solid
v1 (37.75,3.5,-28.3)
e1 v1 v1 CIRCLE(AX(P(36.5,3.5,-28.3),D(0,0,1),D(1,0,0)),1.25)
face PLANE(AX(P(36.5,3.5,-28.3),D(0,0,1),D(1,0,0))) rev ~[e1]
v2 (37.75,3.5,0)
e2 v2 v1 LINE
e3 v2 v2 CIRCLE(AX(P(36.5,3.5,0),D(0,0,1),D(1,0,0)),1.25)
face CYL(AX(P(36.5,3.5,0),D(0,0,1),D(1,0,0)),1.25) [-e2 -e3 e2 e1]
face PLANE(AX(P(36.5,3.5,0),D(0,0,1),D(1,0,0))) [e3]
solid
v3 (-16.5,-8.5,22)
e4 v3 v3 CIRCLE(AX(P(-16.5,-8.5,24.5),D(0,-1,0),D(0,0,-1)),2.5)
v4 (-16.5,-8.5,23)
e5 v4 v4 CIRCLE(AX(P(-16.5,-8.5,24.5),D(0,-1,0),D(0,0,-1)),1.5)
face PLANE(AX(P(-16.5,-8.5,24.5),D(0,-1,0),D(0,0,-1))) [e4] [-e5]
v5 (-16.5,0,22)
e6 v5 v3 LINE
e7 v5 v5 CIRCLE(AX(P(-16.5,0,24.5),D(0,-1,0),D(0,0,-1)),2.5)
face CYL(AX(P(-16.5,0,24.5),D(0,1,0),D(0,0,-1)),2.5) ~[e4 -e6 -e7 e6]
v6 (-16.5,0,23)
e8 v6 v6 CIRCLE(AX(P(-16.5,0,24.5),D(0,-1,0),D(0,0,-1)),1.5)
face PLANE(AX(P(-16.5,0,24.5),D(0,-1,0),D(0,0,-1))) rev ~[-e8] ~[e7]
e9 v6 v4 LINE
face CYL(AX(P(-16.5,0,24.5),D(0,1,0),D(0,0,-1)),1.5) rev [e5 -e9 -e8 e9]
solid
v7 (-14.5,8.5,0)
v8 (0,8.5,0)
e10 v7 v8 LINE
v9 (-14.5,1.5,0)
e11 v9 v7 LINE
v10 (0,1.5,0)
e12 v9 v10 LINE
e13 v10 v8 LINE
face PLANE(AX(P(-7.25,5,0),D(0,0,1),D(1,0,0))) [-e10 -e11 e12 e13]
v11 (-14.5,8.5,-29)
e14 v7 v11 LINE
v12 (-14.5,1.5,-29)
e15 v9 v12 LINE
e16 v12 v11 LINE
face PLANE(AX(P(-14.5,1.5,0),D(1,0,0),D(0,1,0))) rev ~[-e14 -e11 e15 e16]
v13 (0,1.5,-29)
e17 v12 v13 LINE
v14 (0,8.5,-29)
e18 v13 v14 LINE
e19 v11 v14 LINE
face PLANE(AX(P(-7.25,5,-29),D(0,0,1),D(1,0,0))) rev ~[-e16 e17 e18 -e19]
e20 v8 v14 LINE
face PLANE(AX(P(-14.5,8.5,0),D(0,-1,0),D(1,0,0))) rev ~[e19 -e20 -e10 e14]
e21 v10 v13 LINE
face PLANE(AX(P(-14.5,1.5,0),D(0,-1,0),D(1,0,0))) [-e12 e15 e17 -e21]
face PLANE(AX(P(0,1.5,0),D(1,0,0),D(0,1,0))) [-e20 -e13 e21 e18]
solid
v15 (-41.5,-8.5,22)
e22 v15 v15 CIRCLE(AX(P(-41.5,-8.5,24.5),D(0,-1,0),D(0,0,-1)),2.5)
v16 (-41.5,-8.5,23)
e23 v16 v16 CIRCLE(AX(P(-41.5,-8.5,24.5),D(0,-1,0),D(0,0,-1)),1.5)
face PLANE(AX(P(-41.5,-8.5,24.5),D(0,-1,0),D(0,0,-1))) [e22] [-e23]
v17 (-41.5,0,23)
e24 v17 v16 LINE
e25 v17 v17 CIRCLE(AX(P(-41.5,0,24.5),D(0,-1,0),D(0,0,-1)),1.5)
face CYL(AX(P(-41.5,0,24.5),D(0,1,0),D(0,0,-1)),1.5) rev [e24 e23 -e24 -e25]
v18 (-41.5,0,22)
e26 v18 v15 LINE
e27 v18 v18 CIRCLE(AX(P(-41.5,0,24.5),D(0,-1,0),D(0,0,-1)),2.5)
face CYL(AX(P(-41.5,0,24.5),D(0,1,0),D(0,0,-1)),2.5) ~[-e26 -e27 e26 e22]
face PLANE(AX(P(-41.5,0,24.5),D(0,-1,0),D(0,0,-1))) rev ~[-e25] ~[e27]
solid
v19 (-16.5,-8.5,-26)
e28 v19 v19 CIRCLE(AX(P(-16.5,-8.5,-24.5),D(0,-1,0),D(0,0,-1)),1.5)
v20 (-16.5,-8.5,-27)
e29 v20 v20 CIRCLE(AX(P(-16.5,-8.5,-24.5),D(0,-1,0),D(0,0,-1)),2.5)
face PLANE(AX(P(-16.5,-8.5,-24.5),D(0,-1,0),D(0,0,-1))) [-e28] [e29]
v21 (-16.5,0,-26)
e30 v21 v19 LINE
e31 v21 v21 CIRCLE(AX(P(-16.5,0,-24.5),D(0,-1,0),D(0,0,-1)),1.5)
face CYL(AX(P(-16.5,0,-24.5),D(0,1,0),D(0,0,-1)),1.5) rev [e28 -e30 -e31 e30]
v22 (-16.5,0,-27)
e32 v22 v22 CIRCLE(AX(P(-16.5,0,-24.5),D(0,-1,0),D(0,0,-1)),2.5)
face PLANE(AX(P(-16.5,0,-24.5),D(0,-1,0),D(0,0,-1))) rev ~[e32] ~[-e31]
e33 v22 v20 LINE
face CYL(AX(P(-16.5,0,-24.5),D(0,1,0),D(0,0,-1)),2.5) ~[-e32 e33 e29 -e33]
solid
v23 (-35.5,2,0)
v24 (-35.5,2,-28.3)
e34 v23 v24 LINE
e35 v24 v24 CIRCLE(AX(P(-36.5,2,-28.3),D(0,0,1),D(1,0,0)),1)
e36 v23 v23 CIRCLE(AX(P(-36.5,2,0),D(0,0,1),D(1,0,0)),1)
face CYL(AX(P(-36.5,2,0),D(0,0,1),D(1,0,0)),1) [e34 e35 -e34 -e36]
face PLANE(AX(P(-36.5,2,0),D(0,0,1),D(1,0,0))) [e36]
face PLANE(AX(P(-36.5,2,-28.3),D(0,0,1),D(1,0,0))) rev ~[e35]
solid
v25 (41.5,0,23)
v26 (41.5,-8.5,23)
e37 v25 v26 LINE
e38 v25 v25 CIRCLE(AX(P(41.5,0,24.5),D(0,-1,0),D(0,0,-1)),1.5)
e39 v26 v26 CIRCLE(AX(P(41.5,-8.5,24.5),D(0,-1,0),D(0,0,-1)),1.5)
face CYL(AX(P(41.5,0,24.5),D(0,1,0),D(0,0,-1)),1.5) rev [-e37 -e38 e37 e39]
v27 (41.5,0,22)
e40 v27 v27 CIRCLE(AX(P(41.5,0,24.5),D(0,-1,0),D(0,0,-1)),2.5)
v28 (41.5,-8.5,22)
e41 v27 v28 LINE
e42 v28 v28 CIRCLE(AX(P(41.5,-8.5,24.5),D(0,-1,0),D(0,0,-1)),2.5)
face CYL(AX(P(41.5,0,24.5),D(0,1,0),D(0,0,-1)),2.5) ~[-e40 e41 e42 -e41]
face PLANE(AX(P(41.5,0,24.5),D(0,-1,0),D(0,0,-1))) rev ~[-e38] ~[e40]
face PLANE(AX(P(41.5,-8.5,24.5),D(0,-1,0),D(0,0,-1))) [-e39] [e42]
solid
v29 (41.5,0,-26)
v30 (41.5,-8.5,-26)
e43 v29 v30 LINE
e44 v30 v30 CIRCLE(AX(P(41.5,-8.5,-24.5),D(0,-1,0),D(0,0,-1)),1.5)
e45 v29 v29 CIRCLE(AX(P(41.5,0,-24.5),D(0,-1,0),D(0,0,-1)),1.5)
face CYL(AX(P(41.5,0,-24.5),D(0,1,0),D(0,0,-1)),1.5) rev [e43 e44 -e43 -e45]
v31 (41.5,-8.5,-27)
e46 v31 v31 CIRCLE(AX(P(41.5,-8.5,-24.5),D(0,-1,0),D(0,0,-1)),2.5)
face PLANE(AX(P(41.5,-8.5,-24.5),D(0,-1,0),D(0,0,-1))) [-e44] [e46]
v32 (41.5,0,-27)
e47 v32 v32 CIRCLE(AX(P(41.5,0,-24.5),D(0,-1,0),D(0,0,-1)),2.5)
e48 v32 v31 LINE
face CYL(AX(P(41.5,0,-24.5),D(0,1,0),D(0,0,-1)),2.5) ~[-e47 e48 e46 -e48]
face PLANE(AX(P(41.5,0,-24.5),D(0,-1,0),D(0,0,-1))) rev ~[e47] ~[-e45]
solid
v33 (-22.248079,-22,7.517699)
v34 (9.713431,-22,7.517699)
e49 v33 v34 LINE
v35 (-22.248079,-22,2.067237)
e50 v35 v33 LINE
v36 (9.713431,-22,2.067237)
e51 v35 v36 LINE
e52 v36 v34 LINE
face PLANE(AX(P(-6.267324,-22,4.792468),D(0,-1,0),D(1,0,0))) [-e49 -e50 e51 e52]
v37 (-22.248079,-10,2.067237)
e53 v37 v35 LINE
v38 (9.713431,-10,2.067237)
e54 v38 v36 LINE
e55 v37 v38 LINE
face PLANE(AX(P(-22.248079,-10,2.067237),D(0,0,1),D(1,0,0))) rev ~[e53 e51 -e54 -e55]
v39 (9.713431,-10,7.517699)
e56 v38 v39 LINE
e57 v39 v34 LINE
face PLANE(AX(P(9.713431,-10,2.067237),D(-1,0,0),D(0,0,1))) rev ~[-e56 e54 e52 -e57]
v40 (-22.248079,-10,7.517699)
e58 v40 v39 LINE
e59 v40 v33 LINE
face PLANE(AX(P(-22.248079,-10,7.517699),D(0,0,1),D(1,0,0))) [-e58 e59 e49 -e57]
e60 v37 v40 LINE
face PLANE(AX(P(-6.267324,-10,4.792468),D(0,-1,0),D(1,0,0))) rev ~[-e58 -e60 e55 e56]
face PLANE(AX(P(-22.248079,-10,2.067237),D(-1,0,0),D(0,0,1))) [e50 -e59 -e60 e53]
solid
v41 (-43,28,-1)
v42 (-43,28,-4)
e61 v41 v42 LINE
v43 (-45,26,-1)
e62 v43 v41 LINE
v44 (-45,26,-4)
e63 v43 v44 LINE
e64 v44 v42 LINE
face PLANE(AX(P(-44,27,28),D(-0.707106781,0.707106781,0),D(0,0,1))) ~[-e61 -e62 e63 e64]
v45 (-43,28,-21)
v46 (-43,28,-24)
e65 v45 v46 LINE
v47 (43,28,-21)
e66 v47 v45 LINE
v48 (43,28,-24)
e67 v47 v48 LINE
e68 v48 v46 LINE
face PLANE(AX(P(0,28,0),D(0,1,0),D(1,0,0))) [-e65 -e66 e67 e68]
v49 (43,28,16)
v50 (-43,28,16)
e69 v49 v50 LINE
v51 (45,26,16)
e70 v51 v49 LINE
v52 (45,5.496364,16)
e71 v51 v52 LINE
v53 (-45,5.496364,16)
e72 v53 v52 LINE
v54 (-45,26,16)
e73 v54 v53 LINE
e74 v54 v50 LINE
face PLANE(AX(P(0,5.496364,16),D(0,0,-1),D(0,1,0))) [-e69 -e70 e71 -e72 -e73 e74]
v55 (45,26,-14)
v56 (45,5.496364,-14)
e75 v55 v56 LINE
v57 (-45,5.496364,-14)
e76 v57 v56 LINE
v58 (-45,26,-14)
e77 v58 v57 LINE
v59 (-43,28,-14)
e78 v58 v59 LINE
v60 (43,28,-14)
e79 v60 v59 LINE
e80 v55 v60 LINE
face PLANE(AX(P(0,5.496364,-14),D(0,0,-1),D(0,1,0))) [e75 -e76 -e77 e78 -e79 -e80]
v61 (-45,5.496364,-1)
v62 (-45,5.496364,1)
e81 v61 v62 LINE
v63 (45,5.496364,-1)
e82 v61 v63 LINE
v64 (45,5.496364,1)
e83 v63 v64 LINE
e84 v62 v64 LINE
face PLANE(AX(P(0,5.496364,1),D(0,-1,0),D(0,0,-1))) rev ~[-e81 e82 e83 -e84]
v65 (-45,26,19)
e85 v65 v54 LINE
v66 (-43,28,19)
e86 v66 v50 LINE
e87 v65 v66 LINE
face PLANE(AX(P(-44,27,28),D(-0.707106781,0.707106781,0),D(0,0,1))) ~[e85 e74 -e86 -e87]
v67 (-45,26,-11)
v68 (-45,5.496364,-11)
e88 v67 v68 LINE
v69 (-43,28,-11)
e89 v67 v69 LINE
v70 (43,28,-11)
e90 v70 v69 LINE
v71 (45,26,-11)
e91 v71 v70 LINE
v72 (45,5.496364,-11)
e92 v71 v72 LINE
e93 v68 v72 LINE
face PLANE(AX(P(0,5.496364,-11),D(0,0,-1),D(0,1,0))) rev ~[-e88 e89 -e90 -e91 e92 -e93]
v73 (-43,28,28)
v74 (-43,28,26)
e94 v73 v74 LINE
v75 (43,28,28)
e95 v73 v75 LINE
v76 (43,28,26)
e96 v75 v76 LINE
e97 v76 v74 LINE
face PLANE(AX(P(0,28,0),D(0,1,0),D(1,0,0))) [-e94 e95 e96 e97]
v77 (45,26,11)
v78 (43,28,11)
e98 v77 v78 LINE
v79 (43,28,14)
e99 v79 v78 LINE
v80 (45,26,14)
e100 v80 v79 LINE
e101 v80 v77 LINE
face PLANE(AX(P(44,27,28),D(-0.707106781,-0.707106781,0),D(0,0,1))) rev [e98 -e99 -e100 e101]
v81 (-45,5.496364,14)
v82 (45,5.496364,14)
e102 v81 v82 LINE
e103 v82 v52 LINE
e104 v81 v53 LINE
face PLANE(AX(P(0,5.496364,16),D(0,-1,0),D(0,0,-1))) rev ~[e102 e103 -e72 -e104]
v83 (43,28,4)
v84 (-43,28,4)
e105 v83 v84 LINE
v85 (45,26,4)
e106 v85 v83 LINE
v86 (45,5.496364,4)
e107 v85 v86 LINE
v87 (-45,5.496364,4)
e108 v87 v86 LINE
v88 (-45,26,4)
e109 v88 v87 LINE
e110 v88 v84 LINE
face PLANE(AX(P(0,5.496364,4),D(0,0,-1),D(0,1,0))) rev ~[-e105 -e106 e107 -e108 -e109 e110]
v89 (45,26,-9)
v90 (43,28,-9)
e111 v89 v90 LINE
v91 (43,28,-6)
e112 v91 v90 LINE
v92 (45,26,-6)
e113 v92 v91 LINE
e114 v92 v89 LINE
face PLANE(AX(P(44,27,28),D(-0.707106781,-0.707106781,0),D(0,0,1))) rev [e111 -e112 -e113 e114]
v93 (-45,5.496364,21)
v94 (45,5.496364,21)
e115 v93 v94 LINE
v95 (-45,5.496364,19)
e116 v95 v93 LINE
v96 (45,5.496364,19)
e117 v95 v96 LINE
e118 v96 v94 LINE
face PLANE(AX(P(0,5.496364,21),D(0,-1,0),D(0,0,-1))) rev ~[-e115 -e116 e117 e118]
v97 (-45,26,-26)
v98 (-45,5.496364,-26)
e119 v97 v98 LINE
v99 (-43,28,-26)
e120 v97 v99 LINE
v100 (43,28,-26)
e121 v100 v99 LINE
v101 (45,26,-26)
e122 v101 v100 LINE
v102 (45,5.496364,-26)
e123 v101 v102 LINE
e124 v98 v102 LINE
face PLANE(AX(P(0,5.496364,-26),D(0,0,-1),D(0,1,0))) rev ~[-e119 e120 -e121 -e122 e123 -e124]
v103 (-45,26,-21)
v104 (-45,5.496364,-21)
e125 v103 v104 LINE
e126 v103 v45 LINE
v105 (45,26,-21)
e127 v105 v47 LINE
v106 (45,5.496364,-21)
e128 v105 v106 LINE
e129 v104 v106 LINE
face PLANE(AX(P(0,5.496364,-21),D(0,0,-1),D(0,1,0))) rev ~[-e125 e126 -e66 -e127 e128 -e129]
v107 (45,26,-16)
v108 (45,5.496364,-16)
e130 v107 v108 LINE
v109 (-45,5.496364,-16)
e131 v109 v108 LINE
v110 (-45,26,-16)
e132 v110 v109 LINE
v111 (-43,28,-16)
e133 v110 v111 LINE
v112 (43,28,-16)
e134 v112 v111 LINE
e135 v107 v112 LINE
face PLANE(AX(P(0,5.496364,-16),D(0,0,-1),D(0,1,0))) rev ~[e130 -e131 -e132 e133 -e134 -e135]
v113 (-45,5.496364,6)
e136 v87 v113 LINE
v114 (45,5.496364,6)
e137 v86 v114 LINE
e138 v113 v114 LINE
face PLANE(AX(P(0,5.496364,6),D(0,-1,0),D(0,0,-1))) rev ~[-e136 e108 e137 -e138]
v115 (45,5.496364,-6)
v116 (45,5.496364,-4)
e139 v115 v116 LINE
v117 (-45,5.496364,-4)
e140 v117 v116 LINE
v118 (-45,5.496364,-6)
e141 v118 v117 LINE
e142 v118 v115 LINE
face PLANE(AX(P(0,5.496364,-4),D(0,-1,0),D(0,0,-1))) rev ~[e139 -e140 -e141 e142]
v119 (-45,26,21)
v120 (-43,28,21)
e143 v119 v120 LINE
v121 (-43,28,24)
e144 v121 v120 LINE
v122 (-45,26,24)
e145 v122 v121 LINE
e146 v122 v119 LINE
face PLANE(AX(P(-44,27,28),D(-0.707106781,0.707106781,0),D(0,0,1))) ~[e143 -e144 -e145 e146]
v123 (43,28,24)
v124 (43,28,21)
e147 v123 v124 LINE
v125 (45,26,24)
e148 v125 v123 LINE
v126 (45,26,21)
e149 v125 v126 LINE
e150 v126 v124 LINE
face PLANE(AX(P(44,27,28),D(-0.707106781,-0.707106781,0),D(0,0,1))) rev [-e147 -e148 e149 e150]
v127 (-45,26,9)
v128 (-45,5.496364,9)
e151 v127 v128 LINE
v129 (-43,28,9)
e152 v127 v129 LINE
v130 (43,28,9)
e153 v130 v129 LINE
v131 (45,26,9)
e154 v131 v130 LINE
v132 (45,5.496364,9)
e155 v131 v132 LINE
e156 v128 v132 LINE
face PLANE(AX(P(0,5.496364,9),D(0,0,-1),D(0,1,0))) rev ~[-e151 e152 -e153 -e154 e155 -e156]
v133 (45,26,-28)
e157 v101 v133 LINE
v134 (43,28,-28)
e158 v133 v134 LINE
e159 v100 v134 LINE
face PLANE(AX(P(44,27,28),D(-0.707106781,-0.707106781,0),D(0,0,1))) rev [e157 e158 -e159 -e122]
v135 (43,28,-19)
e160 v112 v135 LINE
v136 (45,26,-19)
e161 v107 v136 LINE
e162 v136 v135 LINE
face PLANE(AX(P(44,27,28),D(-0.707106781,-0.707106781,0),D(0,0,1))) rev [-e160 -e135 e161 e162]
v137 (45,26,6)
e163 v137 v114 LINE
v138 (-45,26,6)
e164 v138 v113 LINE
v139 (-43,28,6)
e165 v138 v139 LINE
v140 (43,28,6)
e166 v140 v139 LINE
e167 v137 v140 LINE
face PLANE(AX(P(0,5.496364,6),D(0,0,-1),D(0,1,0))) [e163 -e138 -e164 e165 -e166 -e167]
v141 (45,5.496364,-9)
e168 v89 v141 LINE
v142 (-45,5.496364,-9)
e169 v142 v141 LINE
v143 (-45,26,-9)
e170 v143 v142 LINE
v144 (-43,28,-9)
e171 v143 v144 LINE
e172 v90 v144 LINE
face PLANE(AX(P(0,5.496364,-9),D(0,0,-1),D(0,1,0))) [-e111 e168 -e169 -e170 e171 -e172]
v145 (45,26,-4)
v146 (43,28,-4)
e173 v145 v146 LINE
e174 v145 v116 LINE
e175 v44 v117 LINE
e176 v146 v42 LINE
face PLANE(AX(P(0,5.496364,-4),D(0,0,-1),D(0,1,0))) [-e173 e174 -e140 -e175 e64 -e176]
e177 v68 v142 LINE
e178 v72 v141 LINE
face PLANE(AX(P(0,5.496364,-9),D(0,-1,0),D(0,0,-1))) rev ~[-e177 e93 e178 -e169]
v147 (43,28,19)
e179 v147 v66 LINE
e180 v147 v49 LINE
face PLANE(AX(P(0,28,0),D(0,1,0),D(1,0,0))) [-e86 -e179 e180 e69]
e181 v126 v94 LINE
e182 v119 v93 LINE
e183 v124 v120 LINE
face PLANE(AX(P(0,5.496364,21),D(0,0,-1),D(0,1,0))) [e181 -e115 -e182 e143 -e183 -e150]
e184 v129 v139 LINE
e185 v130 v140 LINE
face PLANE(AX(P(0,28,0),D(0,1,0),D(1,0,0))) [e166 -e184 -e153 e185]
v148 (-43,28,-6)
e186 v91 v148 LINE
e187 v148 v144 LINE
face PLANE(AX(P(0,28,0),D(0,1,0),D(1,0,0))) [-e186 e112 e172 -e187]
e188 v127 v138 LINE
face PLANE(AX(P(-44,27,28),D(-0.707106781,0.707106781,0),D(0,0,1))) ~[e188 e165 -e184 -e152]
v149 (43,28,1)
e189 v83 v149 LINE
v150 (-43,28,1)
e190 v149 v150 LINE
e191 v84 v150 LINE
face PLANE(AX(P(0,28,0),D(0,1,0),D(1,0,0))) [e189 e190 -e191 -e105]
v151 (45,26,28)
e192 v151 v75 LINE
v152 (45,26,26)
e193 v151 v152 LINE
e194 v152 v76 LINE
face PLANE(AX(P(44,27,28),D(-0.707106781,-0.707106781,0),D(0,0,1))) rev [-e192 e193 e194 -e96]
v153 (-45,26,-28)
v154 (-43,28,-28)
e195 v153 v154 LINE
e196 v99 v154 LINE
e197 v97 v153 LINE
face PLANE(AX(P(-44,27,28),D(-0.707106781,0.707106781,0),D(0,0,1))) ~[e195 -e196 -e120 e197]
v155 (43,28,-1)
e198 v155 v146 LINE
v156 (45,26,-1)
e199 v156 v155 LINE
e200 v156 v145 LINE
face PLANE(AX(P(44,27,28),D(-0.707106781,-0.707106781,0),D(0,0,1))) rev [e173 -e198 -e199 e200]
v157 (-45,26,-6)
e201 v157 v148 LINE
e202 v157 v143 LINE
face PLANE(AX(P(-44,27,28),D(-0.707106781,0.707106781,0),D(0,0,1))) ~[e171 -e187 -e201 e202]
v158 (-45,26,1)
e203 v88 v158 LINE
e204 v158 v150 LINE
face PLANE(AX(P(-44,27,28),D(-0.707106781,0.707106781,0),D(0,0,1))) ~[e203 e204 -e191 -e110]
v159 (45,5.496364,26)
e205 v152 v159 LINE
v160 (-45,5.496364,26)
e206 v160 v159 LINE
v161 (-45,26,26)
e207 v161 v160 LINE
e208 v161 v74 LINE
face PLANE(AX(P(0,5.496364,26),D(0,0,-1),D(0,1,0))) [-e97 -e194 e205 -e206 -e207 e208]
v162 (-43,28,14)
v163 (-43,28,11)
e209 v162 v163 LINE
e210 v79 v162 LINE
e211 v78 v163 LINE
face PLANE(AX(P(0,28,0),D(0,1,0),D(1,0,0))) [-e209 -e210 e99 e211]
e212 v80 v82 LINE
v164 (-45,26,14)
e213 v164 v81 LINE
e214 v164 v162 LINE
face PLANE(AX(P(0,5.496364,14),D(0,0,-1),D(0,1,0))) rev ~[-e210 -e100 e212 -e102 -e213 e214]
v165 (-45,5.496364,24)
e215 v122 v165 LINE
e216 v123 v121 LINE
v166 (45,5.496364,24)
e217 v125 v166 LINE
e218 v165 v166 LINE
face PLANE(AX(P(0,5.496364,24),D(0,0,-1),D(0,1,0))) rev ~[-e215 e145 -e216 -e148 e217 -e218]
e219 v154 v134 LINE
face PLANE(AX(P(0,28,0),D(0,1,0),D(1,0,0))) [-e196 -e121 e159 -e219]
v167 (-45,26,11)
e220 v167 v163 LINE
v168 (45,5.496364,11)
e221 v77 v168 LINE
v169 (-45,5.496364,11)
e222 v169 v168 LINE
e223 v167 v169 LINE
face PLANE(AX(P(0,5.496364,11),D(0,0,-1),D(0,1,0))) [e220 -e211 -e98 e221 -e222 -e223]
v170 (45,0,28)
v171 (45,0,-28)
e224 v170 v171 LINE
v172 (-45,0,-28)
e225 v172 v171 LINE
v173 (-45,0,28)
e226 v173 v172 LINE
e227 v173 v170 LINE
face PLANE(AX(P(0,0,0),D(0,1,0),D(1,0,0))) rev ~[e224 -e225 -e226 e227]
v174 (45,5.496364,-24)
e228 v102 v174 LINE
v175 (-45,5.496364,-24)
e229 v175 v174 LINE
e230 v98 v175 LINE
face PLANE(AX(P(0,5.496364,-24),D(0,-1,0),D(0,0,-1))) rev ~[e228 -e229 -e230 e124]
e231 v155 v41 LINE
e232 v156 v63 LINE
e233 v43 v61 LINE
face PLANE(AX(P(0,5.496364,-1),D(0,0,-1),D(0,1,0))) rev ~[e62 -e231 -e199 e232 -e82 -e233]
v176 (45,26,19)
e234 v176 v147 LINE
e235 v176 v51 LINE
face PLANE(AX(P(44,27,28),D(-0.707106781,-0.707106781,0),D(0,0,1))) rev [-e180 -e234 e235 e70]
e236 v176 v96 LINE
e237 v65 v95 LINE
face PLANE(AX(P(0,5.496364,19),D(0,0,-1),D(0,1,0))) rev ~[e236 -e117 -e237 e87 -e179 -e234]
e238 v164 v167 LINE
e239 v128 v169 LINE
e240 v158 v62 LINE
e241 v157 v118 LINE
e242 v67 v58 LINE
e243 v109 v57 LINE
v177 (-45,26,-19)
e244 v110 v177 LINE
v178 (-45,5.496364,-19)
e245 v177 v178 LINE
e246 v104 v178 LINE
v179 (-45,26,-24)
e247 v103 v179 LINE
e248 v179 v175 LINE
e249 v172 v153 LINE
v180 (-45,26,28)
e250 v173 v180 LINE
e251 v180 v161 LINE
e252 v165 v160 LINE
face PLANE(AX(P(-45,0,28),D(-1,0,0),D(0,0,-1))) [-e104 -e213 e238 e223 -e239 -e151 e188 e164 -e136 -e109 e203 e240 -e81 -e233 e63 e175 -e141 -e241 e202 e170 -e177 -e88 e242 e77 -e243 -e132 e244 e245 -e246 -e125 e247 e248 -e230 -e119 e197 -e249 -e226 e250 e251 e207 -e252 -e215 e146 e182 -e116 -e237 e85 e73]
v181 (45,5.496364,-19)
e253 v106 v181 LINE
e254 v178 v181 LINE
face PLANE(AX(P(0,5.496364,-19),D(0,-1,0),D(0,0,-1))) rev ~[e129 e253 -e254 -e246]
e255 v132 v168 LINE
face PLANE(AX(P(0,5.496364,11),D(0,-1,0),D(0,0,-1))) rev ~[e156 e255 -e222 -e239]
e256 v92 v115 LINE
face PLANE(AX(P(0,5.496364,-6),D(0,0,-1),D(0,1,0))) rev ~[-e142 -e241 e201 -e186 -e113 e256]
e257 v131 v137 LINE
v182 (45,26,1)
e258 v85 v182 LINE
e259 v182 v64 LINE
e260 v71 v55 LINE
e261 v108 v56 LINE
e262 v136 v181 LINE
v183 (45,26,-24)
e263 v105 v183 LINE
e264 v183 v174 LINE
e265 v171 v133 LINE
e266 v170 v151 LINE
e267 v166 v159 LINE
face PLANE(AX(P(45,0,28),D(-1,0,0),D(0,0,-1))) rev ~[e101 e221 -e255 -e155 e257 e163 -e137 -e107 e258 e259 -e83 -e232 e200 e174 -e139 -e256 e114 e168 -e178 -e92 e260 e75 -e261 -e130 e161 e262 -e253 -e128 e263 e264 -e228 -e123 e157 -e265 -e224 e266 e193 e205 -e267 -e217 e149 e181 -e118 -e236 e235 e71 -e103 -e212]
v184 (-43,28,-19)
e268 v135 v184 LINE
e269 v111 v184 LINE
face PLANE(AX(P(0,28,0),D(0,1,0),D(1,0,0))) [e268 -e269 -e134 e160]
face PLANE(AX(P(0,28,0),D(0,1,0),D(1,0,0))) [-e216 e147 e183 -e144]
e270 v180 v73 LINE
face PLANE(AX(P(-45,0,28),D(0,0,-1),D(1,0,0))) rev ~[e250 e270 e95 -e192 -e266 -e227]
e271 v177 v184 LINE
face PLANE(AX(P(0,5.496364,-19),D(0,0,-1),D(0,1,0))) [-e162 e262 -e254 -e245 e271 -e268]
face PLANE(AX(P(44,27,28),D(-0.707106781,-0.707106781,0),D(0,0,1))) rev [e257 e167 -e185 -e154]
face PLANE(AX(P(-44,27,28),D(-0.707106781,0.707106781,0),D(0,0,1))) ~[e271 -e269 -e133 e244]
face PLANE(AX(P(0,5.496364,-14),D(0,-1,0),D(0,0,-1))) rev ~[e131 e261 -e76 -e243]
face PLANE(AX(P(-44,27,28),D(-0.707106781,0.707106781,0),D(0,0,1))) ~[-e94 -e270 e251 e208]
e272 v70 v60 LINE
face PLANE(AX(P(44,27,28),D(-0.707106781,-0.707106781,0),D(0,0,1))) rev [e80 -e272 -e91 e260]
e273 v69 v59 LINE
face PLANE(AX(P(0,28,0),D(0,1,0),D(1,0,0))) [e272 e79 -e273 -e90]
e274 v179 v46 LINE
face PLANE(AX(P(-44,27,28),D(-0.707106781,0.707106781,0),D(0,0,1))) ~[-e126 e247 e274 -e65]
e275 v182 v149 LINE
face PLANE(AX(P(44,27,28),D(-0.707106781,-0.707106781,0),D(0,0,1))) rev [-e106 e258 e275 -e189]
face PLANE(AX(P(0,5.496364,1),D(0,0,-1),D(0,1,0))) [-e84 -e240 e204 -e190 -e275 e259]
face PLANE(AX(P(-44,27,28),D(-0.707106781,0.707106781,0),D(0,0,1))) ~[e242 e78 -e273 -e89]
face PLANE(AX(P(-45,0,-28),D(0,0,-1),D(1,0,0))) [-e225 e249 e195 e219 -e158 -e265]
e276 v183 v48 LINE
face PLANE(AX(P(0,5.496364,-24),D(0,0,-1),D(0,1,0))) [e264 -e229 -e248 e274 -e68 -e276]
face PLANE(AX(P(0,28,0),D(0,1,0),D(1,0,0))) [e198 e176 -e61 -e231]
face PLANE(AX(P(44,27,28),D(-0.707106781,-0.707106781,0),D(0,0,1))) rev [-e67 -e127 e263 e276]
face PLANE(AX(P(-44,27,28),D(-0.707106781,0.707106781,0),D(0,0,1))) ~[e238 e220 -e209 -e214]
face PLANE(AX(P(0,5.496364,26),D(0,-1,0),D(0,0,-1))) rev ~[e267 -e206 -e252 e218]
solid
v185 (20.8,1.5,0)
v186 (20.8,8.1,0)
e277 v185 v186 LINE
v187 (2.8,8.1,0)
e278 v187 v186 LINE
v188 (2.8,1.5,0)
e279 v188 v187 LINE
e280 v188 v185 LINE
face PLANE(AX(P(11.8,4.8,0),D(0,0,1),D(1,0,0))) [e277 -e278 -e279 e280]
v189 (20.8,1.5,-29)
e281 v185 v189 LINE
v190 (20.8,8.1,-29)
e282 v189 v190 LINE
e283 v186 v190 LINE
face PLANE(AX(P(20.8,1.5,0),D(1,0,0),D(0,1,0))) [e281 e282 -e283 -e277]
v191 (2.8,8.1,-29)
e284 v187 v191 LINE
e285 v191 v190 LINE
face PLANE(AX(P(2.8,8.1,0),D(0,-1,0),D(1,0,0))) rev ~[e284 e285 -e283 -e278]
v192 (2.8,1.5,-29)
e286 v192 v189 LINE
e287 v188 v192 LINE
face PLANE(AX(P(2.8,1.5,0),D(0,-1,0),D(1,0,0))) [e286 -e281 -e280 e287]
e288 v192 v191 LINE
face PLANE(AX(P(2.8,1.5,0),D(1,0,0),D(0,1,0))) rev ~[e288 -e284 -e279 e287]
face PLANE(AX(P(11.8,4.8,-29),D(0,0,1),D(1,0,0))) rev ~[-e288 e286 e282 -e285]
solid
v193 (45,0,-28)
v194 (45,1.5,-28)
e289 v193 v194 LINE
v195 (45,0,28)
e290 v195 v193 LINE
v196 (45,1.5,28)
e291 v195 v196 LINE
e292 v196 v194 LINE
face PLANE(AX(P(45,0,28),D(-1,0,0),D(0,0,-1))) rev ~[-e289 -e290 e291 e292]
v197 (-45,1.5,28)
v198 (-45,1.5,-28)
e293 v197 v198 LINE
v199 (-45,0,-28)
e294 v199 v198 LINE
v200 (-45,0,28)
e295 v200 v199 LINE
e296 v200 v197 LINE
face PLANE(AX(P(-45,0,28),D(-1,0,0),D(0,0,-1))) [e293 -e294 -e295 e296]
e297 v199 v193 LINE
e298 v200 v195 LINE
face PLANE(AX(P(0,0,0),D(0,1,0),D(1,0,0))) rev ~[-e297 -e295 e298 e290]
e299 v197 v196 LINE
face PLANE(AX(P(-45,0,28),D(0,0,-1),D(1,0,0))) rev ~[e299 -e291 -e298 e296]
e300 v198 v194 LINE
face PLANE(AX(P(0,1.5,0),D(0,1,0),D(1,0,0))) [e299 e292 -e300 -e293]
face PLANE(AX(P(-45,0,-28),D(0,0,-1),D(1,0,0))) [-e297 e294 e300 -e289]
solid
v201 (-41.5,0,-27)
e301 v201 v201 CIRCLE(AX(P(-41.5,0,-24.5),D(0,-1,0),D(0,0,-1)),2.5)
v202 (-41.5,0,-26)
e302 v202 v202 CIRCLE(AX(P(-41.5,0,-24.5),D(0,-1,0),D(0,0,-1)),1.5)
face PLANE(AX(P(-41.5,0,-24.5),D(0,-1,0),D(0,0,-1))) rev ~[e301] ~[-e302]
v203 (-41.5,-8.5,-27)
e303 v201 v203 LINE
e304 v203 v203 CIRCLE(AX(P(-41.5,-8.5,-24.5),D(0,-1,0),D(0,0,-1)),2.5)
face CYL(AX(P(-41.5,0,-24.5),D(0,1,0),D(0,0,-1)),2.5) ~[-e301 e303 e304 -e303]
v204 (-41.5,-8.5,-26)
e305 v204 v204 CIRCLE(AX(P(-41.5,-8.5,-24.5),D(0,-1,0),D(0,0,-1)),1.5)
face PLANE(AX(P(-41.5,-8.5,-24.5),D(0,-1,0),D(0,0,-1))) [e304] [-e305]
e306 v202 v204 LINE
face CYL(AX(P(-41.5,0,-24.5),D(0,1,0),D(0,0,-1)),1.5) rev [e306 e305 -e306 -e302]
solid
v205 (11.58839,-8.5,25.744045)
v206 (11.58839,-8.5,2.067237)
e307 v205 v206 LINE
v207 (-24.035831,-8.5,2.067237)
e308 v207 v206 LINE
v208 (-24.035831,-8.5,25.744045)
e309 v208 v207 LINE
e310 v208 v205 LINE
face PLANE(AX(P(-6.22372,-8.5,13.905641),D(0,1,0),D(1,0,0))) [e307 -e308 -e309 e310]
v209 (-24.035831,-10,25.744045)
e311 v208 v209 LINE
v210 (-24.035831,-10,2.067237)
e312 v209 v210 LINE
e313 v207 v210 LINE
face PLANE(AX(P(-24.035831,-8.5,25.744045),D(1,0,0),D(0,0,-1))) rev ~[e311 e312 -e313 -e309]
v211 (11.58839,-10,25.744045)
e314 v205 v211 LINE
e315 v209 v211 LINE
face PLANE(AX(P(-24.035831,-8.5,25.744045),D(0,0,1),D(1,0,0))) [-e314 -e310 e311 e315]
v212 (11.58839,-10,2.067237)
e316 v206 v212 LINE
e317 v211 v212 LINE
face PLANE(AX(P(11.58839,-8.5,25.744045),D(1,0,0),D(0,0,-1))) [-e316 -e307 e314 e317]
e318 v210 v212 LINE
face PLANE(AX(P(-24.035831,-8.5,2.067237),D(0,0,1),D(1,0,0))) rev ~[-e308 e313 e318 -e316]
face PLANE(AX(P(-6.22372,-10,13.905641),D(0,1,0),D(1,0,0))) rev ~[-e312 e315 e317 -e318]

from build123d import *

# Parameters (mm, degrees)
SKETCH1_W             = 90
SKETCH1_H             = 56
BOSS_EXTRUDE1_DEPTH   = 1.5
SKETCH2_W             = 90
SKETCH2_H             = 56
BOSS_EXTRUDE2_DEPTH   = 28
CHAMFER1_SIZE         = 2
SKETCH3_W             = 2
SKETCH3_H             = 22.503636092
CUT_EXTRUDE1_DEPTH    = 60.941638283
LPATTERN1_COUNT       = 11
LPATTERN1_PITCH       = 5
SKETCH4_R             = 2.5
SKETCH4_R_2           = 1.5
BOSS_EXTRUDE3_DEPTH   = 8.5
BOSS_EXTRUDE3_2_DEPTH = 8.5
BOSS_EXTRUDE3_3_DEPTH = 8.5
BOSS_EXTRUDE3_4_DEPTH = 8.5
BOSS_EXTRUDE3_5_DEPTH = 8.5
BOSS_EXTRUDE3_6_DEPTH = 8.5
BOSS_EXTRUDE4_START   = -8.5
SKETCH6_W             = 35.624221149
SKETCH6_H             = 23.676807936
BOSS_EXTRUDE4_DEPTH   = 1.5
SKETCH7_W             = 31.961510529
SKETCH7_H             = 5.450462232
BOSS_EXTRUDE5_DEPTH   = 12
SKETCH5_W             = 14.5
SKETCH5_H             = 7
BOSS_EXTRUDE6_DEPTH   = 29
SKETCH5_W_2           = 18
SKETCH5_H_2           = 6.6
BOSS_EXTRUDE6_2_DEPTH = 29
SKETCH9_R             = 1.25
BOSS_EXTRUDE7_DEPTH   = 28.3
SKETCH9_R_2           = 1
BOSS_EXTRUDE7_2_DEPTH = 28.3


with BuildPart() as part:
    # Sketch1 → Boss-Extrude1 (new body)
    with BuildSketch(Plane(origin=(0, 0, 0), x_dir=(1, 0, 0), z_dir=(0, 1, 0))):
        Rectangle(SKETCH1_W, SKETCH1_H)
    extrude(amount=BOSS_EXTRUDE1_DEPTH)


with BuildPart() as body_2:
    # Sketch2 → Boss-Extrude2 (new body)
    with BuildSketch(Plane(origin=(0, 0, 0), x_dir=(1, 0, 0), z_dir=(0, 1, 0))):
        Rectangle(SKETCH2_W, SKETCH2_H)
    extrude(amount=BOSS_EXTRUDE2_DEPTH)

    # Chamfer1
    chamfer1_edges = [body_2.edges().sort_by_distance(p)[0] for p in [
        (45, 28, 0),
        (-45, 28, 0),
    ]]
    chamfer(chamfer1_edges, length=CHAMFER1_SIZE)

    # Sketch3 → Cut-Extrude1 (cut, symmetric)
    with BuildSketch(Plane(origin=(0, 0, 0), x_dir=(0, 0, -1), z_dir=(1, 0, 0))):
        with Locations((-25, 16.748181954)):
            Rectangle(SKETCH3_W, SKETCH3_H)
    cut_extrude1 = extrude(amount=CUT_EXTRUDE1_DEPTH, both=True, mode=Mode.SUBTRACT)

    # LPattern1: Cut-Extrude1 ×11
    with Locations(*[(0, 0, -i * LPATTERN1_PITCH) for i in range(1, LPATTERN1_COUNT)]):
        add(cut_extrude1, mode=Mode.SUBTRACT)


with BuildPart() as body_3:
    # Sketch4 → Boss-Extrude3 (new body)
    with BuildSketch(Plane.XZ):
        with Locations(Location((-41.5, 24.5, 0), (0, 0, 270))):
            Circle(SKETCH4_R)
        with Locations(Location((-41.5, 24.5, 0), (0, 0, 270))):
            Circle(SKETCH4_R_2, mode=Mode.SUBTRACT)
    extrude(amount=BOSS_EXTRUDE3_DEPTH)


with BuildPart() as body_4:
    # Sketch4 → Boss-Extrude3 2 (new body)
    with BuildSketch(Plane.XZ):
        with Locations(Location((-16.5, 24.5, 0), (0, 0, 270))):
            Circle(SKETCH4_R)
        with Locations(Location((-16.5, 24.5, 0), (0, 0, 270))):
            Circle(SKETCH4_R_2, mode=Mode.SUBTRACT)
    extrude(amount=BOSS_EXTRUDE3_2_DEPTH)


with BuildPart() as body_5:
    # Sketch4 → Boss-Extrude3 3 (new body)
    with BuildSketch(Plane.XZ):
        with Locations(Location((41.5, 24.5, 0), (0, 0, 270))):
            Circle(SKETCH4_R)
        with Locations(Location((41.5, 24.5, 0), (0, 0, 270))):
            Circle(SKETCH4_R_2, mode=Mode.SUBTRACT)
    extrude(amount=BOSS_EXTRUDE3_3_DEPTH)


with BuildPart() as body_6:
    # Sketch4 → Boss-Extrude3 4 (new body)
    with BuildSketch(Plane.XZ):
        with Locations(Location((-41.5, -24.5, 0), (0, 0, 270))):
            Circle(SKETCH4_R)
        with Locations(Location((-41.5, -24.5, 0), (0, 0, 270))):
            Circle(SKETCH4_R_2, mode=Mode.SUBTRACT)
    extrude(amount=BOSS_EXTRUDE3_4_DEPTH)


with BuildPart() as body_7:
    # Sketch4 → Boss-Extrude3 5 (new body)
    with BuildSketch(Plane.XZ):
        with Locations(Location((-16.5, -24.5, 0), (0, 0, 270))):
            Circle(SKETCH4_R)
        with Locations(Location((-16.5, -24.5, 0), (0, 0, 270))):
            Circle(SKETCH4_R_2, mode=Mode.SUBTRACT)
    extrude(amount=BOSS_EXTRUDE3_5_DEPTH)


with BuildPart() as body_8:
    # Sketch4 → Boss-Extrude3 6 (new body)
    with BuildSketch(Plane.XZ):
        with Locations(Location((41.5, -24.5, 0), (0, 0, 270))):
            Circle(SKETCH4_R)
        with Locations(Location((41.5, -24.5, 0), (0, 0, 270))):
            Circle(SKETCH4_R_2, mode=Mode.SUBTRACT)
    extrude(amount=BOSS_EXTRUDE3_6_DEPTH)


with BuildPart() as body_9:
    # Sketch6 → Boss-Extrude4 (new body)
    with BuildSketch(Plane(origin=(0, 0, 0), x_dir=(1, 0, 0), z_dir=(0, 1, 0)).offset(BOSS_EXTRUDE4_START)):
        with Locations((-6.223720435, -13.905640845)):
            Rectangle(SKETCH6_W, SKETCH6_H)
    extrude(amount=-BOSS_EXTRUDE4_DEPTH)


with BuildPart() as body_10:
    # Sketch7 → Boss-Extrude5 (new body)
    with BuildSketch(Plane.XZ.offset(10)):
        with Locations((-6.267324133, 4.792467993)):
            Rectangle(SKETCH7_W, SKETCH7_H)
    extrude(amount=BOSS_EXTRUDE5_DEPTH)


with BuildPart() as body_11:
    # Sketch5 → Boss-Extrude6 (new body)
    with BuildSketch(Plane.XY):
        with Locations((-7.25, 5)):
            Rectangle(SKETCH5_W, SKETCH5_H)
    extrude(amount=-BOSS_EXTRUDE6_DEPTH)


with BuildPart() as body_12:
    # Sketch5 → Boss-Extrude6 2 (new body)
    with BuildSketch(Plane.XY):
        with Locations((11.8, 4.8)):
            Rectangle(SKETCH5_W_2, SKETCH5_H_2)
    extrude(amount=-BOSS_EXTRUDE6_2_DEPTH)


with BuildPart() as body_13:
    # Sketch9 → Boss-Extrude7 (new body)
    with BuildSketch(Plane.XY):
        with Locations((36.5, 3.5)):
            Circle(SKETCH9_R)
    extrude(amount=-BOSS_EXTRUDE7_DEPTH)


with BuildPart() as body_14:
    # Sketch9 → Boss-Extrude7 2 (new body)
    with BuildSketch(Plane.XY):
        with Locations((-36.5, 2)):
            Circle(SKETCH9_R_2)
    extrude(amount=-BOSS_EXTRUDE7_2_DEPTH)


solid = Compound([part.part, body_2.part, body_3.part, body_4.part, body_5.part, body_6.part, body_7.part, body_8.part, body_9.part, body_10.part, body_11.part, body_12.part, body_13.part, body_14.part])
